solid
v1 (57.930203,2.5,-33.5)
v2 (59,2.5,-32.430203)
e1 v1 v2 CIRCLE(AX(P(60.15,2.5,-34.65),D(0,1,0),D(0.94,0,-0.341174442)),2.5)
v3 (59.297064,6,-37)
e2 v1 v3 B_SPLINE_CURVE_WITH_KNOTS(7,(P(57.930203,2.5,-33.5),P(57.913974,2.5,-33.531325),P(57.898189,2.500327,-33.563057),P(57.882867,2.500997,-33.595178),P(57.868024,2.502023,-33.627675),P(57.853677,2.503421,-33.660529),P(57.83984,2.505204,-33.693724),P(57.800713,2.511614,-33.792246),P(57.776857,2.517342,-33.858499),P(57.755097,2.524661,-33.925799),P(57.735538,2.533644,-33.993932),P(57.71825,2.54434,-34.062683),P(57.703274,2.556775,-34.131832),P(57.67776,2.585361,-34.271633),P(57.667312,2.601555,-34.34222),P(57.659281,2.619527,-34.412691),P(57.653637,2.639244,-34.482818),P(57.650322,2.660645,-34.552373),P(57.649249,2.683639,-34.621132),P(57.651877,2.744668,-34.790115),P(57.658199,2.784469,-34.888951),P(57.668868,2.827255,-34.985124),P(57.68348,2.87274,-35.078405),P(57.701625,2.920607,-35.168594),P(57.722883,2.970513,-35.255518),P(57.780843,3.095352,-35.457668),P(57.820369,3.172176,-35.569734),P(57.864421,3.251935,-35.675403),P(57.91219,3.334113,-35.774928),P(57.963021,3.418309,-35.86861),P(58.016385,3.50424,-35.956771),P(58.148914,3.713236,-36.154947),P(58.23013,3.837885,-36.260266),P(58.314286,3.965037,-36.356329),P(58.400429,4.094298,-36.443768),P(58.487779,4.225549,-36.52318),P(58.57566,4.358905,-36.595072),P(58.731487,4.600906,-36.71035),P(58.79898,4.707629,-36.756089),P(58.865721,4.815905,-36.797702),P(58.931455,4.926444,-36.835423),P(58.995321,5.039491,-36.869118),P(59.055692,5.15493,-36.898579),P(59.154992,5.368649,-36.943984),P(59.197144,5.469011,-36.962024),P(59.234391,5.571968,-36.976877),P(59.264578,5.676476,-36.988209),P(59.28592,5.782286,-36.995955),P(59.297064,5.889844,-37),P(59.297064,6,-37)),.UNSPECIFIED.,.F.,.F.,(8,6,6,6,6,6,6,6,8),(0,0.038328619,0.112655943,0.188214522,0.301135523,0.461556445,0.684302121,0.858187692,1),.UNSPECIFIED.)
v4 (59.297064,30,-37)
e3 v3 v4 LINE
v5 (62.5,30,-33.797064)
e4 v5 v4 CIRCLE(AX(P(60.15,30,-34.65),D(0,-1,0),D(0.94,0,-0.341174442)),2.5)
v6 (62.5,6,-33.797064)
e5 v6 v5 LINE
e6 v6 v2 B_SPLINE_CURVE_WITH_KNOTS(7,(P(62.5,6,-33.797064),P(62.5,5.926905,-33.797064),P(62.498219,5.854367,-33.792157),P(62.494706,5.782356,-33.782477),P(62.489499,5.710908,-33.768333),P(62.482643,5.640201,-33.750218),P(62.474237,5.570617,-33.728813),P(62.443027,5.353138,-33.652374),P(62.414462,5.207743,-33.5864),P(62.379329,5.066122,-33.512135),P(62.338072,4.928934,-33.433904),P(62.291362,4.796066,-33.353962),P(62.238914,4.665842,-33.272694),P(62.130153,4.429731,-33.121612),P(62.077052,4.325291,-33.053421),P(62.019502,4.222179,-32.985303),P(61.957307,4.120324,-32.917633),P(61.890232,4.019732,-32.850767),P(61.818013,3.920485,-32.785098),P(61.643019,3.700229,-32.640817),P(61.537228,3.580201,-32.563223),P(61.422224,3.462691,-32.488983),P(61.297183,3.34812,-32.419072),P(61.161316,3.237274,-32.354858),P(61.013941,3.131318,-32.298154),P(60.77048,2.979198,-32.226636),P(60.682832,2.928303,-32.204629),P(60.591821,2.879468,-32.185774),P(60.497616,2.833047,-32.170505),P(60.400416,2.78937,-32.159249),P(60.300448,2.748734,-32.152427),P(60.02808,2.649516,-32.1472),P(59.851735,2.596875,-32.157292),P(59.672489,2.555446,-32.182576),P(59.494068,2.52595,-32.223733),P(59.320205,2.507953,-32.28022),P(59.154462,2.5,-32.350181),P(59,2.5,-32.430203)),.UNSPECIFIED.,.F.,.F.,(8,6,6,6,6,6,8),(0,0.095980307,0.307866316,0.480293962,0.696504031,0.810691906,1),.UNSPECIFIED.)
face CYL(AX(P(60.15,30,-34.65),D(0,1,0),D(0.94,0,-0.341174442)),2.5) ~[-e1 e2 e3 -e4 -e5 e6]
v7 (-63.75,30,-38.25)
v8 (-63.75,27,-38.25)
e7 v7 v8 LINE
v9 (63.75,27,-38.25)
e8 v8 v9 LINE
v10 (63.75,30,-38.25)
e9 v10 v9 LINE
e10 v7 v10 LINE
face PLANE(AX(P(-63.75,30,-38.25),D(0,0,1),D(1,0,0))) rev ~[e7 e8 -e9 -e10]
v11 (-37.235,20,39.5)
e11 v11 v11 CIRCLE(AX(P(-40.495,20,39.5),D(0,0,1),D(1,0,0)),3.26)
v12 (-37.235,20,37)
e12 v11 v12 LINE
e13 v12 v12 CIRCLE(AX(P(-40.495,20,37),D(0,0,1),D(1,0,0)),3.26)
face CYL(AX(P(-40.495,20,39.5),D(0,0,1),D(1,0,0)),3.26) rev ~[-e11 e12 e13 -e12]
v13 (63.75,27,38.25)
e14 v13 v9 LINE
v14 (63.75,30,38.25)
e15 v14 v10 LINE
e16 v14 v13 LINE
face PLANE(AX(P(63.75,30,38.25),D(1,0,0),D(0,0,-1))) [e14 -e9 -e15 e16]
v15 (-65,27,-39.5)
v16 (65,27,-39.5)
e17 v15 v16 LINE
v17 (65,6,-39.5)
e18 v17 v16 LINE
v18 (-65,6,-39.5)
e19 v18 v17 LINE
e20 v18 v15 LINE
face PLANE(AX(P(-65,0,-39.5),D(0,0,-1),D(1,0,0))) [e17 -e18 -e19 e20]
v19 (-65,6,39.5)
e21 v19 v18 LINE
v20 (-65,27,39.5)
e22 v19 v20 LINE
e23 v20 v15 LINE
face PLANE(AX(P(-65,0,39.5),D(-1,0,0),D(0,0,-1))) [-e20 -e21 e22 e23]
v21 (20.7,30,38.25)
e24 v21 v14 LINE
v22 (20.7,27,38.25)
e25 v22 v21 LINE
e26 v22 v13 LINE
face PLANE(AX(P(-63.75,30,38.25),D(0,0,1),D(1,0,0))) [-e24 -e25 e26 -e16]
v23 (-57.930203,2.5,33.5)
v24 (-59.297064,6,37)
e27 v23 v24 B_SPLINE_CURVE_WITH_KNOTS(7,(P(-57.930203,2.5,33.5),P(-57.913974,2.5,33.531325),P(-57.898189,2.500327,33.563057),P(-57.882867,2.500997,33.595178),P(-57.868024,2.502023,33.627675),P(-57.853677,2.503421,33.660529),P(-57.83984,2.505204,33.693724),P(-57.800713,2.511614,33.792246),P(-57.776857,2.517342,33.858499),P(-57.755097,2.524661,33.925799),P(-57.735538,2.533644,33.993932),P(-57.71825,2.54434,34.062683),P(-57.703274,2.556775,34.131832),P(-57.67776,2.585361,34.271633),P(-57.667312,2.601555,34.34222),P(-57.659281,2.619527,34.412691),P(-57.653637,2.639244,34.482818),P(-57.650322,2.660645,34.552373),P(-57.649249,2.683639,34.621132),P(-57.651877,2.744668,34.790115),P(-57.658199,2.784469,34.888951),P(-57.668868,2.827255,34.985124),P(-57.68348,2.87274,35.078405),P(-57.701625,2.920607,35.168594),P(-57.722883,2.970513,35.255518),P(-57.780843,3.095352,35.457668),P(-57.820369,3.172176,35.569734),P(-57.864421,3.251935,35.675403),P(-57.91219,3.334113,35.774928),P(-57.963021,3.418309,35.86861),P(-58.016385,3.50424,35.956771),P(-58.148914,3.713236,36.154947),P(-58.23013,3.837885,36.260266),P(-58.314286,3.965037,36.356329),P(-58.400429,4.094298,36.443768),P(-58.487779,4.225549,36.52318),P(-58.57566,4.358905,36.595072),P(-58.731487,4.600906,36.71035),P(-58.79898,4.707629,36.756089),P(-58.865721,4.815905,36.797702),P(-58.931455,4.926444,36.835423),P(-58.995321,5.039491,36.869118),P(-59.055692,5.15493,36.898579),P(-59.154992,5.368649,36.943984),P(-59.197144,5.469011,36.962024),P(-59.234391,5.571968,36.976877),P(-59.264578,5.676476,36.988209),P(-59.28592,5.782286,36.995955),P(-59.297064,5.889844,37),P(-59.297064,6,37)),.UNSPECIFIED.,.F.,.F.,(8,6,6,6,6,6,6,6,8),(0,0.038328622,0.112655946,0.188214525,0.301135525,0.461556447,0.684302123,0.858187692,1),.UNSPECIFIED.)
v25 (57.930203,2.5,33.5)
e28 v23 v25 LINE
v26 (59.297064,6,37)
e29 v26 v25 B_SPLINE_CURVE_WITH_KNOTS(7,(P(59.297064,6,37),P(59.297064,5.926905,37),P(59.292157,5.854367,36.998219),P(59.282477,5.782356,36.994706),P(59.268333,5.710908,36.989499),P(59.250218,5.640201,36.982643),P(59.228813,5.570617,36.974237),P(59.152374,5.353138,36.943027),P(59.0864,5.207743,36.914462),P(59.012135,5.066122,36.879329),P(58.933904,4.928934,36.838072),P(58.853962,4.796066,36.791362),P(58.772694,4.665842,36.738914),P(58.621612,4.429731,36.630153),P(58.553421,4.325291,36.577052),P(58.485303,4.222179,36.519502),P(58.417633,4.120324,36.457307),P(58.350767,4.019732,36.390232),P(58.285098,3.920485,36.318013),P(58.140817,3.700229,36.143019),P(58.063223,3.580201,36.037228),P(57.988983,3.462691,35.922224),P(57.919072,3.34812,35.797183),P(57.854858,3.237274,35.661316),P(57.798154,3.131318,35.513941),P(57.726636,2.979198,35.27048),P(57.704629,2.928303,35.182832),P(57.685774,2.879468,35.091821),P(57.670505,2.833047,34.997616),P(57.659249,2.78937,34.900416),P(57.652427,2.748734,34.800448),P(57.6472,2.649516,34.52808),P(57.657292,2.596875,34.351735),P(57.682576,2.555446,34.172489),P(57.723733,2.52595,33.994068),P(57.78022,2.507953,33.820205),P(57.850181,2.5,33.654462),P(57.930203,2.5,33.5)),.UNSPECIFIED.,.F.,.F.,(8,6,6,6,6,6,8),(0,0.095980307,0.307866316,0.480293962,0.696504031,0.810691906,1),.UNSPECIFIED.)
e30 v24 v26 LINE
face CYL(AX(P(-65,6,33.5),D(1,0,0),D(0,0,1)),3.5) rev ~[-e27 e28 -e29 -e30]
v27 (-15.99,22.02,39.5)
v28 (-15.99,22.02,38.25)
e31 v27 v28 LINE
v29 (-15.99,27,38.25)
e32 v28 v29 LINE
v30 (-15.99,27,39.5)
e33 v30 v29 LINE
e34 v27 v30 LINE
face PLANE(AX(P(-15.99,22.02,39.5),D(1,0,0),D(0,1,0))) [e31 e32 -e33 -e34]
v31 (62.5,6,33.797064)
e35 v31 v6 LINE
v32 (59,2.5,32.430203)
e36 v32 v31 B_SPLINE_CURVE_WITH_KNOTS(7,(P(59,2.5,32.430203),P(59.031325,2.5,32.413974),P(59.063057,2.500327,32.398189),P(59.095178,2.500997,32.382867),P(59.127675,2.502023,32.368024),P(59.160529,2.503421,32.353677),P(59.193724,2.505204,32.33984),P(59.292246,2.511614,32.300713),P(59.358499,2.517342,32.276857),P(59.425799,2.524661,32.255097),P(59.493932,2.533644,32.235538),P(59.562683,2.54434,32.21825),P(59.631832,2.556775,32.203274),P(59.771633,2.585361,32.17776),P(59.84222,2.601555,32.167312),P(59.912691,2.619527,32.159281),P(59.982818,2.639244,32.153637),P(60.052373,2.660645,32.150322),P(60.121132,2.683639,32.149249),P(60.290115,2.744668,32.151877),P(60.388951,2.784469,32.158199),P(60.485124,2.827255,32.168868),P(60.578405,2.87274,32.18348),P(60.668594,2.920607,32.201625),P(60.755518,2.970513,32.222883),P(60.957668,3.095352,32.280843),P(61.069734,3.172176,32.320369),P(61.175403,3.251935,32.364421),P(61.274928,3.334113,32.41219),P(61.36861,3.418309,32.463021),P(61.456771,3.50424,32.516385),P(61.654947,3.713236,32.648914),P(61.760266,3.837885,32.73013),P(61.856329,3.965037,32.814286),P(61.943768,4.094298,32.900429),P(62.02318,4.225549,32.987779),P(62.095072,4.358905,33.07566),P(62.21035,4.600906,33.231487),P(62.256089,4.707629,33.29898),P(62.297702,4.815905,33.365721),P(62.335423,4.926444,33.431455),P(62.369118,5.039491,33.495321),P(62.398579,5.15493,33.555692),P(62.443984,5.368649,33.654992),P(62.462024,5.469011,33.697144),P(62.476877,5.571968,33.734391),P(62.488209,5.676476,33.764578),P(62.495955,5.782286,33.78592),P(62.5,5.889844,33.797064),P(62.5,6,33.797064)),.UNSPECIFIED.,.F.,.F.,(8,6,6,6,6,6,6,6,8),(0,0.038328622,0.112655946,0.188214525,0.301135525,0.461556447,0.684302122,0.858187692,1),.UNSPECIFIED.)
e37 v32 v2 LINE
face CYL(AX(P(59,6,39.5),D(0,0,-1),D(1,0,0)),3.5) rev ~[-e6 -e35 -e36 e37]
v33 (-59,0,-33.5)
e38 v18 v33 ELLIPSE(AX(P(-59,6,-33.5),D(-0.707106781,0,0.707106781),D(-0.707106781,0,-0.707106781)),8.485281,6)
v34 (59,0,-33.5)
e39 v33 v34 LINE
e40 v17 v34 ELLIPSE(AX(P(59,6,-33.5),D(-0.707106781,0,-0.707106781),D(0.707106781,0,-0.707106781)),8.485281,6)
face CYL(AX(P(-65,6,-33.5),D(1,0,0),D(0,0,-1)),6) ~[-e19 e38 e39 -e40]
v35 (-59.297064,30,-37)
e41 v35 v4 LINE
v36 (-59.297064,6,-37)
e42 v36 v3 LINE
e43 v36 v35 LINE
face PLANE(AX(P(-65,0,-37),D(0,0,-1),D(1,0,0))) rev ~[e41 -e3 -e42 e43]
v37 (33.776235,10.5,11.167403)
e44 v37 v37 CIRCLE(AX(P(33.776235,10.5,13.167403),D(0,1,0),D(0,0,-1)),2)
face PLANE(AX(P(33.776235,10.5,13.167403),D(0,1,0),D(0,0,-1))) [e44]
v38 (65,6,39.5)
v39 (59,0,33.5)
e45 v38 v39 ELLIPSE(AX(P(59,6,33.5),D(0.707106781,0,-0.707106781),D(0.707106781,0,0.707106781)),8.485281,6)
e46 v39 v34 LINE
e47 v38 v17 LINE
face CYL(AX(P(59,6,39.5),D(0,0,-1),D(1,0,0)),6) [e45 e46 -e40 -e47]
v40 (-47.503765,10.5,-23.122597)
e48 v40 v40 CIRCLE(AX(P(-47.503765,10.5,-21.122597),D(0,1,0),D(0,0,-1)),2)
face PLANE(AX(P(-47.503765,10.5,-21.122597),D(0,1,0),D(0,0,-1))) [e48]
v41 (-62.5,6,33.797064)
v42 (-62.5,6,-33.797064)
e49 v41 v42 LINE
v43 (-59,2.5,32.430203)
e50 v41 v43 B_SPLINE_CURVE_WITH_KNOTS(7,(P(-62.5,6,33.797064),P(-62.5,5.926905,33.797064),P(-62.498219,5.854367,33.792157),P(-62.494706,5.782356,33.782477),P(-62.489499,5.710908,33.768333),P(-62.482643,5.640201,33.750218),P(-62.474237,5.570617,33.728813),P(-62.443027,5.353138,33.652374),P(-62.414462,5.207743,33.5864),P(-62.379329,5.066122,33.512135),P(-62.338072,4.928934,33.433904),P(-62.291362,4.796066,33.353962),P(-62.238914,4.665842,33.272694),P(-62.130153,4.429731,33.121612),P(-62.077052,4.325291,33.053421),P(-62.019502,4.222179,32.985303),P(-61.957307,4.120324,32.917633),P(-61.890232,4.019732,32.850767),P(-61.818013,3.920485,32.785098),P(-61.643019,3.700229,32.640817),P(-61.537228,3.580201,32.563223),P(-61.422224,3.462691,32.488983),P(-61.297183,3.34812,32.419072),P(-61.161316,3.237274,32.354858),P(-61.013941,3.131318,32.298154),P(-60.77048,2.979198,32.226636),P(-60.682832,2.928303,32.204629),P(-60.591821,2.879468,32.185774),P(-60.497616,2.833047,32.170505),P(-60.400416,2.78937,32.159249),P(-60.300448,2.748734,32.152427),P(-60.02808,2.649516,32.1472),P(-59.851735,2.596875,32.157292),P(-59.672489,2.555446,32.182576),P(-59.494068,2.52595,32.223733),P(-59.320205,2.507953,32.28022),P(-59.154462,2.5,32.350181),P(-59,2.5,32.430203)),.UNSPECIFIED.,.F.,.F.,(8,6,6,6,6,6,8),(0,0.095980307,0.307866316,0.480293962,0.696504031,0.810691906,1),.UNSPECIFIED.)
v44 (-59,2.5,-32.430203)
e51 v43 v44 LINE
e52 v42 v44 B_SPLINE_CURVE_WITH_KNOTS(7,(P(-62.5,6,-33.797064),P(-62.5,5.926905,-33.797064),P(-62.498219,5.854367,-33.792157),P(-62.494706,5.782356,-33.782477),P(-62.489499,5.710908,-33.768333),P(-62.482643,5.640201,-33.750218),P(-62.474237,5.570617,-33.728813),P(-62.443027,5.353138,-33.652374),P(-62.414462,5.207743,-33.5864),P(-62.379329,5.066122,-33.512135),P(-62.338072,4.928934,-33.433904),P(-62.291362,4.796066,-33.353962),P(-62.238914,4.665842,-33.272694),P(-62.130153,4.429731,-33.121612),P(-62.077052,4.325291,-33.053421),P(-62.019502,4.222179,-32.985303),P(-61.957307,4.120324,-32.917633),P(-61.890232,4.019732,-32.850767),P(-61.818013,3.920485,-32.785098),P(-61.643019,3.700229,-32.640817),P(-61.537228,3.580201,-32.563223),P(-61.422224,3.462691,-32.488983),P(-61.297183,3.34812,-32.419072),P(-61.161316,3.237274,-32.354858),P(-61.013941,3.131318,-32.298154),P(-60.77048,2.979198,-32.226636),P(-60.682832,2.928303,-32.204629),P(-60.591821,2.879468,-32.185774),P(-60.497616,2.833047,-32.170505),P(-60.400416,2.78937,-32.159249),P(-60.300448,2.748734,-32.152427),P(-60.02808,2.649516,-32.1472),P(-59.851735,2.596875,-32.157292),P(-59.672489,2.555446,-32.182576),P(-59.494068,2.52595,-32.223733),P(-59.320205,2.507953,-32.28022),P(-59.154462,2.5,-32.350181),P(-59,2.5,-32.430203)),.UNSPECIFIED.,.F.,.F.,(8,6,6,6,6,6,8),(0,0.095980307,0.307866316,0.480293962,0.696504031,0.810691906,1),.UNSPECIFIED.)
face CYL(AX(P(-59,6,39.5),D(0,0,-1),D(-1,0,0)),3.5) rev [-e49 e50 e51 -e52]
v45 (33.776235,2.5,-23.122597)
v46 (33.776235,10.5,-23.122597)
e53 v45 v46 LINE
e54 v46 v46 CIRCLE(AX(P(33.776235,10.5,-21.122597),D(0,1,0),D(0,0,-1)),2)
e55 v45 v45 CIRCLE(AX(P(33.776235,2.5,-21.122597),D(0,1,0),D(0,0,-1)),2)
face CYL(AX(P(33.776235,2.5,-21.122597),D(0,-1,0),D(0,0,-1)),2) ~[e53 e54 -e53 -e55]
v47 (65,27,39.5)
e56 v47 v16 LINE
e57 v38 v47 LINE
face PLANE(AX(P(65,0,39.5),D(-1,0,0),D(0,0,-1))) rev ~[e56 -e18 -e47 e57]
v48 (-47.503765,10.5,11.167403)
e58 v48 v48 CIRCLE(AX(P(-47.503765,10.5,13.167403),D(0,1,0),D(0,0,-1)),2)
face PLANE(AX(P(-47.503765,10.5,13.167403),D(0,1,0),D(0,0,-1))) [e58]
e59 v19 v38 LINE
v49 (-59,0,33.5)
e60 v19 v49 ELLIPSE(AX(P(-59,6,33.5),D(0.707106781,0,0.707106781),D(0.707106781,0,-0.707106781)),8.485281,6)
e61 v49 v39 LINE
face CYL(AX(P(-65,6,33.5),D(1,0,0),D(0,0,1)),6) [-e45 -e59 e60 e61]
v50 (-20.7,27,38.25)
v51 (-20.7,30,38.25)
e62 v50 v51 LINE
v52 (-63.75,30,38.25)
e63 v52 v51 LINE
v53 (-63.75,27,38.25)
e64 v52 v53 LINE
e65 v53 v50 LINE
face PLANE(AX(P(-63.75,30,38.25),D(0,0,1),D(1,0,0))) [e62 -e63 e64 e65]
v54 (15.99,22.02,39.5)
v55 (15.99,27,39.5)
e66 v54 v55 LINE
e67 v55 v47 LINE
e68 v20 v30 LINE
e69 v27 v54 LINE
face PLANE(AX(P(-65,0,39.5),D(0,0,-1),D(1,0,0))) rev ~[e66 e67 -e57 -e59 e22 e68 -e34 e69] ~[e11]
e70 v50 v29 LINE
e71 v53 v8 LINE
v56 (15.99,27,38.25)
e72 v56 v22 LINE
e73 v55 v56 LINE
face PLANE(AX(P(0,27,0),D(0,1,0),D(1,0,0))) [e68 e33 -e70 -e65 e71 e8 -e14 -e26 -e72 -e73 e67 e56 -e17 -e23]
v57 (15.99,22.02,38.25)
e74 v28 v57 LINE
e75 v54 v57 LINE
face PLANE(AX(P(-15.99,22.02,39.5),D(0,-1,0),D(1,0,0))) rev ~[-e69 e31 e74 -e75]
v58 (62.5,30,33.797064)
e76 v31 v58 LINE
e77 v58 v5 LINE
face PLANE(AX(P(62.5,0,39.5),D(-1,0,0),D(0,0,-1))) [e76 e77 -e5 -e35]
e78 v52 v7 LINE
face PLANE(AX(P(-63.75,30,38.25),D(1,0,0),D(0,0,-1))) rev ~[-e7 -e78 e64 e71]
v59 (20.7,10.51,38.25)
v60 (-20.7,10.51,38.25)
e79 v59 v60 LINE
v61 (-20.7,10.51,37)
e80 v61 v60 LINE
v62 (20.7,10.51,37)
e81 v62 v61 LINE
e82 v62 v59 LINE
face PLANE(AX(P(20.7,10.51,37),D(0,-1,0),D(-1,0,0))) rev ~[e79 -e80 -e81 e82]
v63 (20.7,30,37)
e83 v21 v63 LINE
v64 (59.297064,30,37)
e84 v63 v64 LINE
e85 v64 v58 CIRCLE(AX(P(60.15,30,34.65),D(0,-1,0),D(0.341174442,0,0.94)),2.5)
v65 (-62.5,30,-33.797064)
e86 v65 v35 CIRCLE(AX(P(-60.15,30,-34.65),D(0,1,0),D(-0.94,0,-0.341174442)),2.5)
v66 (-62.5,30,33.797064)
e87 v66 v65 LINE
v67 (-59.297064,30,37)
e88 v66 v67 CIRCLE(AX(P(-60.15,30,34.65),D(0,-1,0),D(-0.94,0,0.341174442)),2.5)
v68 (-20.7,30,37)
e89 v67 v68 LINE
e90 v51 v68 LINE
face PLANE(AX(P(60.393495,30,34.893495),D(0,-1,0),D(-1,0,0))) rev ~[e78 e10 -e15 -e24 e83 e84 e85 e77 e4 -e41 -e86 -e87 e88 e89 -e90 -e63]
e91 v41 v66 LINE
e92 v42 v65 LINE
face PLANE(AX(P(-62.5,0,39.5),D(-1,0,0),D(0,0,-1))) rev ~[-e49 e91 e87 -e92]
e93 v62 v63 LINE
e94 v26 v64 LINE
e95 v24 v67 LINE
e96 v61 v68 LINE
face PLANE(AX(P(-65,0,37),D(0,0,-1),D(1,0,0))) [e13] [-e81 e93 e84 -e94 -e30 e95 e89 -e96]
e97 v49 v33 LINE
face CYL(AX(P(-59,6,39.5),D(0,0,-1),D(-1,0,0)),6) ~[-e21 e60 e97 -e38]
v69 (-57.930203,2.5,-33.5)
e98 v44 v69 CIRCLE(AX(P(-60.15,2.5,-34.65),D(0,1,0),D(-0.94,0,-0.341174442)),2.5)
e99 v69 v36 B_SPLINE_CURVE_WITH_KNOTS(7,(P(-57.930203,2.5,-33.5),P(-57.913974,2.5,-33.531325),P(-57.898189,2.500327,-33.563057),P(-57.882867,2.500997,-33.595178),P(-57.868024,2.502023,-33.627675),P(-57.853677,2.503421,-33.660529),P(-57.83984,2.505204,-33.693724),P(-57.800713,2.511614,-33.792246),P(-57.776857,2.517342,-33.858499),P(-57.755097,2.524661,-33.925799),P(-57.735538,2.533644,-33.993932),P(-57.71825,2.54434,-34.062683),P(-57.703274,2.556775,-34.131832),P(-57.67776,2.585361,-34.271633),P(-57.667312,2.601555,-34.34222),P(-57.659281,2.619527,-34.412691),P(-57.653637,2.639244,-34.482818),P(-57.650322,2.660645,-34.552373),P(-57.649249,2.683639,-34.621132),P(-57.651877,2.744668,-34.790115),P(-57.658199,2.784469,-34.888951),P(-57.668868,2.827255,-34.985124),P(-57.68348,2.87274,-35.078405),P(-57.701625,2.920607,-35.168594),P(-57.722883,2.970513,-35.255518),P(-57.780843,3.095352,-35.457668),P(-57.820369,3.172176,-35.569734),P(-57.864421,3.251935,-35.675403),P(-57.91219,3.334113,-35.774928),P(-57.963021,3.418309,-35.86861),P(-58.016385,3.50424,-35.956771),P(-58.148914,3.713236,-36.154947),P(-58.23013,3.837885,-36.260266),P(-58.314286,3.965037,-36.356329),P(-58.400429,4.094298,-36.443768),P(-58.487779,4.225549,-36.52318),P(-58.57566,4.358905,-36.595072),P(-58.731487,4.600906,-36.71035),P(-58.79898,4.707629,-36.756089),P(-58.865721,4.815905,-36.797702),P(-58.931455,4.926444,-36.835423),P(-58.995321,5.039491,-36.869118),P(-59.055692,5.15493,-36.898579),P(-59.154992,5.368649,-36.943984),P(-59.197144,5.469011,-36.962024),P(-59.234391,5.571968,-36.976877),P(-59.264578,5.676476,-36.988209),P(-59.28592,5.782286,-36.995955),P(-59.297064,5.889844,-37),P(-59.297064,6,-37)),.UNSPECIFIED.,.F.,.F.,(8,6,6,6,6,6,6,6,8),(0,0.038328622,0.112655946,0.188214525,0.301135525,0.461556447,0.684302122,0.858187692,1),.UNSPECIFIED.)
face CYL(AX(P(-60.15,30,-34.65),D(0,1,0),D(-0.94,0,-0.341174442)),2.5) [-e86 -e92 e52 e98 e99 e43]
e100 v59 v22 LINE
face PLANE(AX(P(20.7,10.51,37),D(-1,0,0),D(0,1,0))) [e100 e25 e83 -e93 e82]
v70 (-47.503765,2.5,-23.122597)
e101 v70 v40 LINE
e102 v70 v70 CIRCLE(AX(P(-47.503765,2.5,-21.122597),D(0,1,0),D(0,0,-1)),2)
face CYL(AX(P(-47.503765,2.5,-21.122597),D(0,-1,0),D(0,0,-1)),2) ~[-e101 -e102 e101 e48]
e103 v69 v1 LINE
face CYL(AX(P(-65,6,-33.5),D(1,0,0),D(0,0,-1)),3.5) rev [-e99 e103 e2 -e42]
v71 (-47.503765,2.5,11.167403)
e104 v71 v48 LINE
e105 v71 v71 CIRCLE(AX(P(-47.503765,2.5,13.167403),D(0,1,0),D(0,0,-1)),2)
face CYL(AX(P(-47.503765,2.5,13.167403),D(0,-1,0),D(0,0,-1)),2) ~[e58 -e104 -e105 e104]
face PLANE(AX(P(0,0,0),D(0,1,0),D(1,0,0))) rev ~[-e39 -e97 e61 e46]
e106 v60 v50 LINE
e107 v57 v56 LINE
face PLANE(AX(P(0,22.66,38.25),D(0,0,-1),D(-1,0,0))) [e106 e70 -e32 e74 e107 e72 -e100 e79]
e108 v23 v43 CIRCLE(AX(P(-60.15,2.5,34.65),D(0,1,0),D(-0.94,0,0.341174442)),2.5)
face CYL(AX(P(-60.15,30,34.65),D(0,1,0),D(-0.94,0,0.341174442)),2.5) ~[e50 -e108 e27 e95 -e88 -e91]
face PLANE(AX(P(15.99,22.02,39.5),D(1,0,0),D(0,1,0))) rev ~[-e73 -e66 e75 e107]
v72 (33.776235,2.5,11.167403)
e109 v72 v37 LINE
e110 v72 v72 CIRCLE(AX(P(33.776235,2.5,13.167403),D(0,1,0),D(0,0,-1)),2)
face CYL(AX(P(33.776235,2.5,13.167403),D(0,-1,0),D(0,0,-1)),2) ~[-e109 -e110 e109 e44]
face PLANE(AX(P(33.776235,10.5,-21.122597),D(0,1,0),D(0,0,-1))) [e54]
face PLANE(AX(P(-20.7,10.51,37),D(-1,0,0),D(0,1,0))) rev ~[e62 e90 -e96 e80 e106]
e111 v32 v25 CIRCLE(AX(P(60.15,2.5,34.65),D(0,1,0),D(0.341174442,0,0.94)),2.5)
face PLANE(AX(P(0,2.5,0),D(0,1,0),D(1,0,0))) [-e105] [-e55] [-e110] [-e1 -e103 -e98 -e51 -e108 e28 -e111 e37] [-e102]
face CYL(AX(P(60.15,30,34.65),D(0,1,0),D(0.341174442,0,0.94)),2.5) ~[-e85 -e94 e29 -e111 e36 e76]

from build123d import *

# Parameters (mm, degrees)
SKETCH1_W           = 130
SKETCH1_H           = 79
BOSS_EXTRUDE1_DEPTH = 30
FILLET1_R           = 6
SHELL1_T            = -2.5
SKETCH2_W           = 130
SKETCH2_H           = 79
SKETCH2_W_2         = 127.5
SKETCH2_H_2         = 76.5
CUT_EXTRUDE1_DEPTH  = 3
SKETCH3_R           = 2
BOSS_EXTRUDE2_DEPTH = 8
BOSS_EXTRUDE3_REACH = 83.763
CUT_EXTRUDE2_REACH  = 108.611
SKETCH5_W           = 31.98
SKETCH5_H           = 7.98
SKETCH6_W           = 41.4
SKETCH6_H           = 24.3
CUT_EXTRUDE3_DEPTH  = 1.25
CUT_EXTRUDE4_REACH  = 108.611
SKETCH7_R           = 3.26


with BuildPart() as part:
    # Sketch1 → Boss-Extrude1 (new body)
    with BuildSketch(Plane(origin=(0, 0, 0), x_dir=(1, 0, 0), z_dir=(0, 1, 0))):
        Rectangle(SKETCH1_W, SKETCH1_H)
    extrude(amount=BOSS_EXTRUDE1_DEPTH)

    # Fillet1
    fillet1_edges = [part.edges().sort_by_distance(p)[0] for p in [
        (0, 0, 39.5),
        (-65, 0, 0),
        (0, 0, -39.5),
        (65, 0, 0),
    ]]
    fillet(fillet1_edges, radius=FILLET1_R)

    # Shell1
    shell1_openings = [part.faces().sort_by_distance(p)[0] for p in [
        (0, 30, 0),
    ]]
    offset(amount=SHELL1_T, openings=shell1_openings)

    # Sketch2 → Cut-Extrude1 (cut)
    with BuildSketch(Plane(origin=(0, 30, 0), x_dir=(1, 0, 0), z_dir=(0, 1, 0))):
        Rectangle(SKETCH2_W, SKETCH2_H)
        Rectangle(SKETCH2_W_2, SKETCH2_H_2, mode=Mode.SUBTRACT)
    extrude(amount=-CUT_EXTRUDE1_DEPTH, mode=Mode.SUBTRACT)

    # Sketch3 → Boss-Extrude2 (add)
    with BuildSketch(Plane(origin=(0, 2.5, 0), x_dir=(1, 0, 0), z_dir=(0, 1, 0))):
        with Locations(Location((-47.503765377, 21.122596556, 0), (0, 0, 90))):
            Circle(SKETCH3_R)
        with Locations(Location((33.776234623, 21.122596556, 0), (0, 0, 90))):
            Circle(SKETCH3_R)
        with Locations(Location((-47.503765377, -13.167403444, 0), (0, 0, 90))):
            Circle(SKETCH3_R)
        with Locations(Location((33.776234623, -13.167403444, 0), (0, 0, 90))):
            Circle(SKETCH3_R)
    extrude(amount=BOSS_EXTRUDE2_DEPTH)

    # Sketch4 → Boss-Extrude3 (add, up to next)
    with BuildSketch(Plane(origin=(0, 30, 0), x_dir=(1, 0, 0), z_dir=(0, 1, 0)), mode=Mode.PRIVATE) as boss_extrude3_sk1:
        with BuildLine():
            Line((-62.5, 37), (-62.5, 35.502936105))
            ThreePointArc((-62.5, 35.502936105), (-58.382233047, 32.882233047), (-61.002936105, 37))
            Line((-61.002936105, 37), (-62.5, 37))
        make_face()
    boss_extrude3_tool1 = extrude(boss_extrude3_sk1.sketch, amount=-BOSS_EXTRUDE3_REACH, mode=Mode.PRIVATE) - part.part
    # Sketch4 → Boss-Extrude3 (add, up to next)
    with BuildSketch(Plane(origin=(0, 30, 0), x_dir=(1, 0, 0), z_dir=(0, 1, 0)), mode=Mode.PRIVATE) as boss_extrude3_sk2:
        with BuildLine():
            Line((62.5, 37), (62.5, 35.502936105))
            ThreePointArc((62.5, 35.502936105), (58.382233047, 32.882233047), (61.002936105, 37))
            Line((61.002936105, 37), (62.5, 37))
        make_face()
    boss_extrude3_tool2 = extrude(boss_extrude3_sk2.sketch, amount=-BOSS_EXTRUDE3_REACH, mode=Mode.PRIVATE) - part.part
    # Sketch4 → Boss-Extrude3 (add, up to next)
    with BuildSketch(Plane(origin=(0, 30, 0), x_dir=(1, 0, 0), z_dir=(0, 1, 0)), mode=Mode.PRIVATE) as boss_extrude3_sk3:
        with BuildLine():
            Line((-62.5, -37), (-62.5, -35.502936105))
            ThreePointArc((-62.5, -35.502936105), (-58.382233047, -32.882233047), (-61.002936105, -37))
            Line((-61.002936105, -37), (-62.5, -37))
        make_face()
    boss_extrude3_tool3 = extrude(boss_extrude3_sk3.sketch, amount=-BOSS_EXTRUDE3_REACH, mode=Mode.PRIVATE) - part.part
    # Sketch4 → Boss-Extrude3 (add, up to next)
    with BuildSketch(Plane(origin=(0, 30, 0), x_dir=(1, 0, 0), z_dir=(0, 1, 0)), mode=Mode.PRIVATE) as boss_extrude3_sk4:
        with BuildLine():
            Line((62.5, -37), (61.002936105, -37))
            ThreePointArc((61.002936105, -37), (58.382233047, -32.882233047), (62.5, -35.502936105))
            Line((62.5, -35.502936105), (62.5, -37))
        make_face()
    boss_extrude3_tool4 = extrude(boss_extrude3_sk4.sketch, amount=-BOSS_EXTRUDE3_REACH, mode=Mode.PRIVATE) - part.part
    add(boss_extrude3_tool1.solids().sort_by_distance((-60.224191, 30, -34.724191))[0])
    add(boss_extrude3_tool2.solids().sort_by_distance((60.224191, 30, -34.724191))[0])
    add(boss_extrude3_tool3.solids().sort_by_distance((-60.224191, 30, 34.724191))[0])
    add(boss_extrude3_tool4.solids().sort_by_distance((60.224191, 30, 34.724191))[0])

    # Cut-Extrude2: up to this face of the body (flat: up to its plane)
    cut_extrude2_end = Plane(part.part.faces().sort_by_distance((0, 18, 37))[0])
    # Sketch5 → Cut-Extrude2 (cut, up to the picked face)
    with BuildSketch(Plane.XY.offset(39.5), mode=Mode.PRIVATE) as cut_extrude2_sk1:
        with Locations((0, 26.01)):
            Rectangle(SKETCH5_W, SKETCH5_H)
    cut_extrude2_tool1 = split(extrude(cut_extrude2_sk1.sketch, amount=-CUT_EXTRUDE2_REACH, mode=Mode.PRIVATE), bisect_by=cut_extrude2_end, keep=Keep.BOTH, mode=Mode.PRIVATE)
    add(cut_extrude2_tool1.solids().sort_by(Axis((0, 26.01, 39.5), (0, 0, -1)))[0], mode=Mode.SUBTRACT)

    # Sketch6 → Cut-Extrude3 (cut)
    with BuildSketch(Plane(origin=(0, 0, 37), x_dir=(-1, 0, 0), z_dir=(0, 0, -1))):
        with Locations((0, 22.66)):
            Rectangle(SKETCH6_W, SKETCH6_H)
    extrude(amount=-CUT_EXTRUDE3_DEPTH, mode=Mode.SUBTRACT)

    # Sketch7 → Cut-Extrude4 (cut, up to next)
    with BuildSketch(Plane.XY.offset(39.5), mode=Mode.PRIVATE) as cut_extrude4_sk1:
        with Locations((-40.495, 20)):
            Circle(SKETCH7_R)
    cut_extrude4_tool1 = extrude(cut_extrude4_sk1.sketch, amount=-CUT_EXTRUDE4_REACH, mode=Mode.PRIVATE) & part.part
    add(cut_extrude4_tool1.solids().sort_by_distance((-40.495, 20, 39.5))[0], mode=Mode.SUBTRACT)


solid = part.part
